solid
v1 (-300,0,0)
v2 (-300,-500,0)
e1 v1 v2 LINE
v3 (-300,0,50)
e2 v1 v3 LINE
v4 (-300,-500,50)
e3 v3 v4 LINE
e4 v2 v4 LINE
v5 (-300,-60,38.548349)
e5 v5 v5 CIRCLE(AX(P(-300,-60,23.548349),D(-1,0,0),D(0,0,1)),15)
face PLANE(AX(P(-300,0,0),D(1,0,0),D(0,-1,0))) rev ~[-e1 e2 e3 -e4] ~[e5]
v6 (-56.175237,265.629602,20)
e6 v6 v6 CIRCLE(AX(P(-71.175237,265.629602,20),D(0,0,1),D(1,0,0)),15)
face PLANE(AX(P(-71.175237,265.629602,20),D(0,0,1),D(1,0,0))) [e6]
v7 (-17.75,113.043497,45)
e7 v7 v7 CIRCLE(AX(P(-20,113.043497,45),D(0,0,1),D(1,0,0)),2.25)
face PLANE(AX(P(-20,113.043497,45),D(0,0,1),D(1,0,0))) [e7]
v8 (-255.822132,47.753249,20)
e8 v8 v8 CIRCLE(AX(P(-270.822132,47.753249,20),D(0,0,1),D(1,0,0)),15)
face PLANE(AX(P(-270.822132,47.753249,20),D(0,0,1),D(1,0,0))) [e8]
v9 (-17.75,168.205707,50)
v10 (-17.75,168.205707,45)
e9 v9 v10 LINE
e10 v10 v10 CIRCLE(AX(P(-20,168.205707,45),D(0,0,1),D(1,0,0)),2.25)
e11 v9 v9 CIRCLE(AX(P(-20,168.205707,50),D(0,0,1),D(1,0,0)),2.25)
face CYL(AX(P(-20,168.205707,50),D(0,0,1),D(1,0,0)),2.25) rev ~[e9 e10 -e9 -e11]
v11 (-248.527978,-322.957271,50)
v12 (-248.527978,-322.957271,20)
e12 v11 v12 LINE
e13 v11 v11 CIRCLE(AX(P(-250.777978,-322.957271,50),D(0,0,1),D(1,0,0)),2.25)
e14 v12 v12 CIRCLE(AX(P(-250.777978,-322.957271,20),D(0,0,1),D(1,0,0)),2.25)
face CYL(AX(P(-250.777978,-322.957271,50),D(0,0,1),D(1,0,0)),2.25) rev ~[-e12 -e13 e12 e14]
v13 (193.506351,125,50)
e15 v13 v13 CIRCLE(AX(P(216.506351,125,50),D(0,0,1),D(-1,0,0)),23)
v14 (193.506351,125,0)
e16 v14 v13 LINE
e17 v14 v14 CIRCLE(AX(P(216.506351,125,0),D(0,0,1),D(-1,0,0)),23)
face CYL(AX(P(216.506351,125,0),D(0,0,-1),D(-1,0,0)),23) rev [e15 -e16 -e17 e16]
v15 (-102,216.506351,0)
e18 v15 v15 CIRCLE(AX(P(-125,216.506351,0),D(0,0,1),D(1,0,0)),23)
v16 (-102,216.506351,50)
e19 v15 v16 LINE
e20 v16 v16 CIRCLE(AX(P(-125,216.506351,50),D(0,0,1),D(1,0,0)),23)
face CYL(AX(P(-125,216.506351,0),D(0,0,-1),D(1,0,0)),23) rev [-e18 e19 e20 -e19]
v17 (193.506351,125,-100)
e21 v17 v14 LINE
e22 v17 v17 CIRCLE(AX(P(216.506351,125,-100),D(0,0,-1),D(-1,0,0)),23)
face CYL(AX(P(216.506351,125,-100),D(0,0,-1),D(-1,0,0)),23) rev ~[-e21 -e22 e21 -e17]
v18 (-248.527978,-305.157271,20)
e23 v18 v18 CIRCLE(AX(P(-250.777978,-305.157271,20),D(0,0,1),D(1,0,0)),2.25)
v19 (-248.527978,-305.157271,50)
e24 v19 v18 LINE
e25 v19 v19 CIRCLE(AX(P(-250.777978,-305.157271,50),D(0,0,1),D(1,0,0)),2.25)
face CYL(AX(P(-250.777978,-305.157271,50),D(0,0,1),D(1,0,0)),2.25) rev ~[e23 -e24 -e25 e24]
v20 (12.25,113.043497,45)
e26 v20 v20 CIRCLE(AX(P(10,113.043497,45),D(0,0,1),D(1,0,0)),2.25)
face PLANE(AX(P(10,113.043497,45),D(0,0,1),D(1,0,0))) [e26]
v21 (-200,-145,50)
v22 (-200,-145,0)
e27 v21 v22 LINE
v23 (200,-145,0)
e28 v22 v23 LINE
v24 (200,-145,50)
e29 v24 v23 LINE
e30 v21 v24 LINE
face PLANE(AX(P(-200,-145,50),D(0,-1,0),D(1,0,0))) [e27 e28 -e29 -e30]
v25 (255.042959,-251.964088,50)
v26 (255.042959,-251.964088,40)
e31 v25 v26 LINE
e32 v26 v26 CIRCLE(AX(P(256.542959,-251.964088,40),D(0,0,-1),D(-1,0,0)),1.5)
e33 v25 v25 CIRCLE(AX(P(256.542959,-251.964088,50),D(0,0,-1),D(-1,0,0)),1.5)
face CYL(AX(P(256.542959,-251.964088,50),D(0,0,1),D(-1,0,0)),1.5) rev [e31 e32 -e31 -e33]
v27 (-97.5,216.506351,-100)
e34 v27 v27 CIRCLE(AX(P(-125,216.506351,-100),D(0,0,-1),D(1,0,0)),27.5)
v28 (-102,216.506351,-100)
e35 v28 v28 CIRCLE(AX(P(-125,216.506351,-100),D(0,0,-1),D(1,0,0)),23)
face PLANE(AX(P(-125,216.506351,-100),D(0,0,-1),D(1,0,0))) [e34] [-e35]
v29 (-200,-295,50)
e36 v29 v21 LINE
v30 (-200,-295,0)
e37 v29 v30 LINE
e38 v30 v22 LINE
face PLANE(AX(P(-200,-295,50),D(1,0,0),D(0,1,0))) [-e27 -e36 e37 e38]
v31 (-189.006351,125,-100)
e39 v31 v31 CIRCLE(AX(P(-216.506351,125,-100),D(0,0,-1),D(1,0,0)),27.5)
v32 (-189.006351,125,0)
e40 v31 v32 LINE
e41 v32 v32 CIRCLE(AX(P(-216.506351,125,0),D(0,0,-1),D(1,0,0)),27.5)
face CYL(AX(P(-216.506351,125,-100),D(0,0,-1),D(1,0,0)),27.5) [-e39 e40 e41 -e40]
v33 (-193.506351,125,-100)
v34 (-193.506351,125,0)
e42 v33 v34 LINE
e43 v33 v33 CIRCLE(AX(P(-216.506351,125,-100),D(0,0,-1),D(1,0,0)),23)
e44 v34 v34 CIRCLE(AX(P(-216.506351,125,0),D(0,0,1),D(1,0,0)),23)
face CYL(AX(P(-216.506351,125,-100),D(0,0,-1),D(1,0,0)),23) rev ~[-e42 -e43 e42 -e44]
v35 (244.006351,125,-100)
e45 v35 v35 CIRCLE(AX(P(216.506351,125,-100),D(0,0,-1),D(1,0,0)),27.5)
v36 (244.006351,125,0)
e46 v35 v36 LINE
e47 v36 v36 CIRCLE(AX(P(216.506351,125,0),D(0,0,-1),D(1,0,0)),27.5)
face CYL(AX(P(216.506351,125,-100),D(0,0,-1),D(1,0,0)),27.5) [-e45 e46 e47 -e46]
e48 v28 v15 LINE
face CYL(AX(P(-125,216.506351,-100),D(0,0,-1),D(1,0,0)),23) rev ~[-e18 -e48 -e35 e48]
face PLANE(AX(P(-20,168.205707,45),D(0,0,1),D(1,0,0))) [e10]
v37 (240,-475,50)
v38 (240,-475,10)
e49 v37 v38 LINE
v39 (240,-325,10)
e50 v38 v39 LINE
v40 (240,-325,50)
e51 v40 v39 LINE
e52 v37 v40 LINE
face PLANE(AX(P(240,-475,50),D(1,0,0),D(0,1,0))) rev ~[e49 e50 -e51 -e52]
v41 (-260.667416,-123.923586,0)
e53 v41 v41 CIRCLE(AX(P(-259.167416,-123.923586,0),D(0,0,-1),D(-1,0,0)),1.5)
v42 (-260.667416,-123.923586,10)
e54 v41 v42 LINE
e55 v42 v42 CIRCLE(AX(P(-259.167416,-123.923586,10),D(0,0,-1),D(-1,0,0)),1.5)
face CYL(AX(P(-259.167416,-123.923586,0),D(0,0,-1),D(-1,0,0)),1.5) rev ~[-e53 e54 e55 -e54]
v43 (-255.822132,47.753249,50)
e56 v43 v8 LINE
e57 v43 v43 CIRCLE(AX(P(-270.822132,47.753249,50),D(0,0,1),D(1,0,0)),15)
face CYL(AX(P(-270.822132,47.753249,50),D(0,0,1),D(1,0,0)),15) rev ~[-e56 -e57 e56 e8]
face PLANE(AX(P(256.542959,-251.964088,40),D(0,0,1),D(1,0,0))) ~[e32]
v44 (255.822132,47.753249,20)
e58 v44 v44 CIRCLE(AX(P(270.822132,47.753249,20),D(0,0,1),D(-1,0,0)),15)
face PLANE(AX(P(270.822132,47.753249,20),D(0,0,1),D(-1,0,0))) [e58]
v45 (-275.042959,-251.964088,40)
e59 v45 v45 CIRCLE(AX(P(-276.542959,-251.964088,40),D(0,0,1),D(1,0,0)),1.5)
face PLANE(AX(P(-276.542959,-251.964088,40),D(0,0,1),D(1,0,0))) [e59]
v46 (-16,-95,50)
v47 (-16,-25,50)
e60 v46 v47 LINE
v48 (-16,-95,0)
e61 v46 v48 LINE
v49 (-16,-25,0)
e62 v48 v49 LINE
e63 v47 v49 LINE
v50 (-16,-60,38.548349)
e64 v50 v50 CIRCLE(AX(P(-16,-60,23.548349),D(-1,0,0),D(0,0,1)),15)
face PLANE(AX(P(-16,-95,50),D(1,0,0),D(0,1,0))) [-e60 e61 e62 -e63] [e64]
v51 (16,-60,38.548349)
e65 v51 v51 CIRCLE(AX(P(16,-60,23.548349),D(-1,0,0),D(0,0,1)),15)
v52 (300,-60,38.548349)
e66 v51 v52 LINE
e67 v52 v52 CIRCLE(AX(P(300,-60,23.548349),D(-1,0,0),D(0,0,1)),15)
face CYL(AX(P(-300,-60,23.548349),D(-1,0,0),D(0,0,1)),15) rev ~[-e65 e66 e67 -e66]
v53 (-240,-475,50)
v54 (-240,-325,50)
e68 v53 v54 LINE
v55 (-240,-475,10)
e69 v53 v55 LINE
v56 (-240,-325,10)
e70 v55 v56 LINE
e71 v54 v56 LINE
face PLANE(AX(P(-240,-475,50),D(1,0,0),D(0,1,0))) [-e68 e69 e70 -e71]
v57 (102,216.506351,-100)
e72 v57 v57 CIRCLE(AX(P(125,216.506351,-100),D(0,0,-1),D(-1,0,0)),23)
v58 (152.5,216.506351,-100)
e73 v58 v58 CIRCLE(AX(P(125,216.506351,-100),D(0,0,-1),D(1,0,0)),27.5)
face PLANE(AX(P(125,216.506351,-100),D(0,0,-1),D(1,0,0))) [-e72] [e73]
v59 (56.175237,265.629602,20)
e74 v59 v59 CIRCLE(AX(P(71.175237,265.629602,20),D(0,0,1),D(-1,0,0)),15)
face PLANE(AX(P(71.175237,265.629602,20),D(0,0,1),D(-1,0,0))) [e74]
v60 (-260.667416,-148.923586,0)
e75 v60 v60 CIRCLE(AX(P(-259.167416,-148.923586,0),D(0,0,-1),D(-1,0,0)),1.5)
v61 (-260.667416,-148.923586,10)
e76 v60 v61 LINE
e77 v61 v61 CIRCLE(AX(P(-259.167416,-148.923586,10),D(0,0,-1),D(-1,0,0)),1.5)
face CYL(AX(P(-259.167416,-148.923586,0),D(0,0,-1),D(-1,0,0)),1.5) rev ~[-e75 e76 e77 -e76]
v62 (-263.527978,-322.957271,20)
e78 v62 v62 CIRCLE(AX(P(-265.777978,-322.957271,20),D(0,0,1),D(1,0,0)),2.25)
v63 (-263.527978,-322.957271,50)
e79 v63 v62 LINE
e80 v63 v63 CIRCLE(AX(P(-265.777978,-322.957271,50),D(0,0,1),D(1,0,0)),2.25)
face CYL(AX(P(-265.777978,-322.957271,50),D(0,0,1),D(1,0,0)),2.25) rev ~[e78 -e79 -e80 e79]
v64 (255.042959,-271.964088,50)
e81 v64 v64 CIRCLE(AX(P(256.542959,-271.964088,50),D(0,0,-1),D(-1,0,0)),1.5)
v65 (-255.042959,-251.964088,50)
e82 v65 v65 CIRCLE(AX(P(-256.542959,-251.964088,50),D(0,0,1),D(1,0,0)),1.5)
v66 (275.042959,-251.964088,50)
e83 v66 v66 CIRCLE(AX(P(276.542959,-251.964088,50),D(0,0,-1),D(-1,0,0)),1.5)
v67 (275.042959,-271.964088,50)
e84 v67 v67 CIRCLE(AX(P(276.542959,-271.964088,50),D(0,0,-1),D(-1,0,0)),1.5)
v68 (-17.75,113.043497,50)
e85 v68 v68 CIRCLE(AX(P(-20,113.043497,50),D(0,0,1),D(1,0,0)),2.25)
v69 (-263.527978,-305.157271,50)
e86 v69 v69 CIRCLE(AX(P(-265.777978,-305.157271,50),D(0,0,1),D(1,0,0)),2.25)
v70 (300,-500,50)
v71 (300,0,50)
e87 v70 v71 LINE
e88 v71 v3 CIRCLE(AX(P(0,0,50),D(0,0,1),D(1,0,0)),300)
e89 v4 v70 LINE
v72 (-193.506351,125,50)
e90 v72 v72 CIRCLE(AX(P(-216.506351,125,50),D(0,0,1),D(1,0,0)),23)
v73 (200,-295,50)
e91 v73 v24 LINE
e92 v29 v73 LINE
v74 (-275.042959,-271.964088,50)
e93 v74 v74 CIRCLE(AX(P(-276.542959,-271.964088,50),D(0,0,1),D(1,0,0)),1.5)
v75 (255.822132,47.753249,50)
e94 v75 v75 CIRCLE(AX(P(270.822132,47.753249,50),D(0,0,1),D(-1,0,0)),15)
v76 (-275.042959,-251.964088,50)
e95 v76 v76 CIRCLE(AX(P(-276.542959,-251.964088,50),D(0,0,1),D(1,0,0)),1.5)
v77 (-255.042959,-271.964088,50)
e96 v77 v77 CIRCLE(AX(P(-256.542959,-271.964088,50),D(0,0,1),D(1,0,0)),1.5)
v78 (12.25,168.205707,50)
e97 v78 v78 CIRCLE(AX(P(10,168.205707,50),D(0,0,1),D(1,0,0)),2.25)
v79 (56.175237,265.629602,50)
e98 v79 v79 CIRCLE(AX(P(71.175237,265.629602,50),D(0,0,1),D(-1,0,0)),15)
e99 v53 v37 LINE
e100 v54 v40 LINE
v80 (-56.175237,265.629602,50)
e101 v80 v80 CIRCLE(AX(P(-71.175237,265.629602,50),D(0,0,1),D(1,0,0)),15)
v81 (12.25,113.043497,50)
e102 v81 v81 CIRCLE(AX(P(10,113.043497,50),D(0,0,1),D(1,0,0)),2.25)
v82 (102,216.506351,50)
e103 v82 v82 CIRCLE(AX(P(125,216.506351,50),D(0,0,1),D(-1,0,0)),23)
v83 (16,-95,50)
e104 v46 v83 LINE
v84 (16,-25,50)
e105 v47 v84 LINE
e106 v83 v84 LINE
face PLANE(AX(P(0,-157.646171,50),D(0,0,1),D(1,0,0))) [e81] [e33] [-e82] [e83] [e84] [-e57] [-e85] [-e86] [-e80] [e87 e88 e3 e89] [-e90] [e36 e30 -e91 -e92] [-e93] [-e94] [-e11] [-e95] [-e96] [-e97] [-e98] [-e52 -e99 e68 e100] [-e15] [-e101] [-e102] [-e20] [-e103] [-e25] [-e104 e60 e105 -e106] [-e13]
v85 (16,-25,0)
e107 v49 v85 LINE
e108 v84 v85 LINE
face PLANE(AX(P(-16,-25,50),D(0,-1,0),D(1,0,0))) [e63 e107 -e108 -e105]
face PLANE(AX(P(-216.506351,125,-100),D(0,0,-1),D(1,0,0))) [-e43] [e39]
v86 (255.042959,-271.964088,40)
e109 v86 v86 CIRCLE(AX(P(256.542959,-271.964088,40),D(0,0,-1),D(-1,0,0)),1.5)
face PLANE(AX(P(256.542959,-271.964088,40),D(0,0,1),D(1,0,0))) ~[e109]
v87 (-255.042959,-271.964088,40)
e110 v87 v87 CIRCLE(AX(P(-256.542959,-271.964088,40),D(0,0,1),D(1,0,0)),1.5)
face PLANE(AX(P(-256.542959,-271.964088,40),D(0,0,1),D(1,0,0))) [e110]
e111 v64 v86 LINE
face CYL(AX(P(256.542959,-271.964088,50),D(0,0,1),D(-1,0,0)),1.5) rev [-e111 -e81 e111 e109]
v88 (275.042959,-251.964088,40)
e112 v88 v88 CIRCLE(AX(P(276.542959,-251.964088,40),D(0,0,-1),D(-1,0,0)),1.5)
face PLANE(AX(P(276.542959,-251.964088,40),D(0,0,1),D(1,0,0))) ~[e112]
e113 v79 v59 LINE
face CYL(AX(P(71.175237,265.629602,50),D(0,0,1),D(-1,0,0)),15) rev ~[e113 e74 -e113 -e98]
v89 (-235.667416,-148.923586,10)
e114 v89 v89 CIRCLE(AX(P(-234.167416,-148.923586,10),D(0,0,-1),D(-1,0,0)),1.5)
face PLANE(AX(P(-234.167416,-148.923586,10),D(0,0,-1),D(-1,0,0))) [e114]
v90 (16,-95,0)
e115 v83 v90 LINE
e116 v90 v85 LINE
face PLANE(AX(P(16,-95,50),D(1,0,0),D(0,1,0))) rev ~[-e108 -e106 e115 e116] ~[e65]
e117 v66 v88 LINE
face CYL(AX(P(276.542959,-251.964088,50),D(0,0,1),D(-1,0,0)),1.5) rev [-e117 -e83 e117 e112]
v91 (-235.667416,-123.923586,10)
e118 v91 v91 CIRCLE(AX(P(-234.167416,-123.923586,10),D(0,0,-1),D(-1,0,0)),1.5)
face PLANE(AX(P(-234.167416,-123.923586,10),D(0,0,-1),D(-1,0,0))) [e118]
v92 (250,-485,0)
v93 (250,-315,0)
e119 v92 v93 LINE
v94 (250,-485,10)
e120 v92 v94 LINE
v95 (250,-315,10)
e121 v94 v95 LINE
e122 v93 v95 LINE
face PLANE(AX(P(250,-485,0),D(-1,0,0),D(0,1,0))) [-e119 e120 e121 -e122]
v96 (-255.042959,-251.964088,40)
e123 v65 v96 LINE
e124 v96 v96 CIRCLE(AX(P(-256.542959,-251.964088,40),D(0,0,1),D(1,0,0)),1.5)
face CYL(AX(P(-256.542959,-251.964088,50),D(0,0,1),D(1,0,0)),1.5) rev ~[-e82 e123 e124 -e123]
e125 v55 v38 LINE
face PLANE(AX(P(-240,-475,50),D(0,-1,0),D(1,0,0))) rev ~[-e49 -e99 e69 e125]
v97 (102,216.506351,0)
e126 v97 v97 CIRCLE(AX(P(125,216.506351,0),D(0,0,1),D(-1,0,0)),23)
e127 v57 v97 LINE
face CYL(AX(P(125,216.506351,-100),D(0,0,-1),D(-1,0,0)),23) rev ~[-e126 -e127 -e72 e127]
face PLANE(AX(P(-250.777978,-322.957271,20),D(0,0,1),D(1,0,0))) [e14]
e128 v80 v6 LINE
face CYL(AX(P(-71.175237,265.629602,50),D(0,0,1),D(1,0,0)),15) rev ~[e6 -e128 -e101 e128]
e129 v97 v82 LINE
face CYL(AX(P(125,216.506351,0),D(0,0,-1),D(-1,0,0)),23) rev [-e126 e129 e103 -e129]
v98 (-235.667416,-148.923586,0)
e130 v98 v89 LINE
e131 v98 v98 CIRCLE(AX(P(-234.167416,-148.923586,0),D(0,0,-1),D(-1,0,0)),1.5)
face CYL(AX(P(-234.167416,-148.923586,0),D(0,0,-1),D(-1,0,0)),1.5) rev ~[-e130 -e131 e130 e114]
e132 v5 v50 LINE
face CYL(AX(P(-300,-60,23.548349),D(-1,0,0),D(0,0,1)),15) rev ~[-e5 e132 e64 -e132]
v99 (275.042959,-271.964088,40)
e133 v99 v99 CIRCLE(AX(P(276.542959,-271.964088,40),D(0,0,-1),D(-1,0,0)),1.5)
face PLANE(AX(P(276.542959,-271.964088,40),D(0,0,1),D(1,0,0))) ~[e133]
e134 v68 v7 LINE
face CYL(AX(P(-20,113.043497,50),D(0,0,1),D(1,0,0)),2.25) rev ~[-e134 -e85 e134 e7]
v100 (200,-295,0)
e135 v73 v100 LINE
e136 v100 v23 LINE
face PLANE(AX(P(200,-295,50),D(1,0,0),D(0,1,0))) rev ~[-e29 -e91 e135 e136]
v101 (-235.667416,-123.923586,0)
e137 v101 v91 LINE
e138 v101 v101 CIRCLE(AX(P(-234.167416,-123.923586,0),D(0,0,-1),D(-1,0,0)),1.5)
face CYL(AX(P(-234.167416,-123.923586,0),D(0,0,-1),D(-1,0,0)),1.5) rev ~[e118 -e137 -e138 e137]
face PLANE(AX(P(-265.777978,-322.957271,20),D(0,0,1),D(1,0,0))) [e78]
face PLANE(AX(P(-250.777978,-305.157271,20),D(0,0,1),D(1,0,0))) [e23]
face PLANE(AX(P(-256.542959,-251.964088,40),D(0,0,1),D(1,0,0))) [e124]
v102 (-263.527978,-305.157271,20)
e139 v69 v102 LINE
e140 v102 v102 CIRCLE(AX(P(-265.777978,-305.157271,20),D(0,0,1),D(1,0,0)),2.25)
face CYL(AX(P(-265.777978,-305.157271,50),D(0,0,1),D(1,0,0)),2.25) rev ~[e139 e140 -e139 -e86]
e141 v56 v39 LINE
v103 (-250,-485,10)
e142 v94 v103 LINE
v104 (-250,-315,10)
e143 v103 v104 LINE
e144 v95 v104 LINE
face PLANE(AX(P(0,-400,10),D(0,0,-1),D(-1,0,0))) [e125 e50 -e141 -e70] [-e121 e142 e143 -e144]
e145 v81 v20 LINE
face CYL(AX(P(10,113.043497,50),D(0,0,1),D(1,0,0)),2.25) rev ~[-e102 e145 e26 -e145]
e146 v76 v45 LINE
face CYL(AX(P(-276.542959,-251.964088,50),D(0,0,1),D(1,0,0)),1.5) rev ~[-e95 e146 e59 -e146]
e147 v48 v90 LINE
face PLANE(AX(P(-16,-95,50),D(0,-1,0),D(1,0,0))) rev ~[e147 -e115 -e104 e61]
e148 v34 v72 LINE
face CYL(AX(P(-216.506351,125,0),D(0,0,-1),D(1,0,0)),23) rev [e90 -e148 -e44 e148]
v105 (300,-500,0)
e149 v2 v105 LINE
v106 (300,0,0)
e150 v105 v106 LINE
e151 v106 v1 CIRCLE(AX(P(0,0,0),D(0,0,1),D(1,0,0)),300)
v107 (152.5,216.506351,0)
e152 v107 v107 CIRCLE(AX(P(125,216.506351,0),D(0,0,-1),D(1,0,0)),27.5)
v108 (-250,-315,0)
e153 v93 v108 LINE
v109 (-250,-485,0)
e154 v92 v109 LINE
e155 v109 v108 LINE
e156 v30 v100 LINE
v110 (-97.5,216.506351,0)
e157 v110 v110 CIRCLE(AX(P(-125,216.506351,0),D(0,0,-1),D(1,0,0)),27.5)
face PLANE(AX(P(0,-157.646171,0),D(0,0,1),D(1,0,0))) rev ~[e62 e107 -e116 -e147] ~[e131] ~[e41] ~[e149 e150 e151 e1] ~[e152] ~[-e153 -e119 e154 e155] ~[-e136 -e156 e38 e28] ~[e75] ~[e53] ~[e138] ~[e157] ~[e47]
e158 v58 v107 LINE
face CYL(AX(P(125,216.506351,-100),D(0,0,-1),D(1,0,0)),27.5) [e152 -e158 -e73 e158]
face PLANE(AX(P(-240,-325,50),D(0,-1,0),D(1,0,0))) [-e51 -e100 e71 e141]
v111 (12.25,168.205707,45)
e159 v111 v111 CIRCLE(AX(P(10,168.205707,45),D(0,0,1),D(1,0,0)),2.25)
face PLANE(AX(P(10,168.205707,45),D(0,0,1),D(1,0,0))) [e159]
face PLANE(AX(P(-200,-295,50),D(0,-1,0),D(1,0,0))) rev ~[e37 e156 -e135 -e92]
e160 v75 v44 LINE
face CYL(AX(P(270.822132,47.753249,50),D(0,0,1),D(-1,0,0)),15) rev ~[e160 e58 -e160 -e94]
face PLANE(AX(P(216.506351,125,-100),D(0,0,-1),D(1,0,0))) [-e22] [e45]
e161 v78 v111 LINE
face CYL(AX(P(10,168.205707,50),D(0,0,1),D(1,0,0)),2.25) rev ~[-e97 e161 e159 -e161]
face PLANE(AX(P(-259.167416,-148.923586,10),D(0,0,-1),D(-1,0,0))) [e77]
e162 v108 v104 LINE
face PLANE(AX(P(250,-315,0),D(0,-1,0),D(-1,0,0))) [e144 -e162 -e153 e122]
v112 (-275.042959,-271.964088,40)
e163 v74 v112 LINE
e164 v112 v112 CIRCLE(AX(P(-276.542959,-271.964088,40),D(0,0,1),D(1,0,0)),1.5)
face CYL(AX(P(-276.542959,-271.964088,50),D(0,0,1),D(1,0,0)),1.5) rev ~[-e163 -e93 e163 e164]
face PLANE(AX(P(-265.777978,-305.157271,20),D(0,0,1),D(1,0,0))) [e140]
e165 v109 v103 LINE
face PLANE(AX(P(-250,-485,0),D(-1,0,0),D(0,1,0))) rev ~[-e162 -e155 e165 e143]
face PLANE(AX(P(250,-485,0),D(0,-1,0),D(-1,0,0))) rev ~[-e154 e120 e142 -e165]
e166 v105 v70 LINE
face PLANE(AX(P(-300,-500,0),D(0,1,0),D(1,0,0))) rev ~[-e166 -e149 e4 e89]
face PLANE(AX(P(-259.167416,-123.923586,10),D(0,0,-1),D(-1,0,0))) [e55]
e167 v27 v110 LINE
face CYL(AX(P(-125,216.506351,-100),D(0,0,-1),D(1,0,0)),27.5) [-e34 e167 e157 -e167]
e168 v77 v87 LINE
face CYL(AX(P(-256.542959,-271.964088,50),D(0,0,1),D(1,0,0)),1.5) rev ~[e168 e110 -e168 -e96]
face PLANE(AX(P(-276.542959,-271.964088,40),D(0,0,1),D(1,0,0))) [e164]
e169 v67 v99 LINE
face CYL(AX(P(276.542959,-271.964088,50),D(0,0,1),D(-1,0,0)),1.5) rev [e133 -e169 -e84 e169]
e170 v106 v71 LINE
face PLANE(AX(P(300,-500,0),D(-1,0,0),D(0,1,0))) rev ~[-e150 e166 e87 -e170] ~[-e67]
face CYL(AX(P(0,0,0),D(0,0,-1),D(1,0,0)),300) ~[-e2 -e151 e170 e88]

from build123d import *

# Parameters (mm, degrees)
SKETCH_1_R           = 23
EXTRUDE_1_DEPTH      = 50
EXTRUDE_START        = 100
SKETCH_2_R           = 27.5
SKETCH_2_R_2         = 23
EXTRUDE_2_DEPTH      = 100
SKETCH_3_R           = 15
CUT_EXTRUDE_1_DEPTH  = 788.400787401
SKETCH_4_W           = 32
SKETCH_4_H           = 70
CUT_EXTRUDE_2_DEPTH  = 100
SKETCH_5_W           = 400
SKETCH_5_H           = 150
CUT_EXTRUDE_3_DEPTH  = 603.07972894
SKETCH_6_W           = 480
SKETCH_6_H           = 150
CUT_EXTRUDE_4_DEPTH  = 100
SKETCH_7_W           = 500
SKETCH_7_H           = 170
CUT_EXTRUDE_5_DEPTH  = 10
SKETCH_9_R           = 2.25
CUT_EXTRUDE_6_DEPTH  = 5
SKETCH_10_R          = 15
CUT_EXTRUDE_7_DEPTH  = 30
SKETCH_11_R          = 2.25
CUT_EXTRUDE_8_DEPTH  = 30
SKETCH_12_R          = 1.5
CUT_EXTRUDE_9_DEPTH  = 10
SKETCH_13_R          = 1.5
CUT_EXTRUDE_10_DEPTH = 10


with BuildPart() as part:
    # 草图1 → 凸台-拉伸1 (new body)
    with BuildSketch(Plane.XY):
        with BuildLine():
            Line((-300, 0), (-300, -500))
            Line((-300, -500), (300, -500))
            Line((300, -500), (300, 0))
            ThreePointArc((300, 0), (0, 300), (-300, 0))
        make_face()
        with Locations((-216.506350946, 125)):
            Circle(SKETCH_1_R, mode=Mode.SUBTRACT)
        with Locations((-125, 216.506350946)):
            Circle(SKETCH_1_R, mode=Mode.SUBTRACT)
        with Locations(Location((125, 216.506350946, 0), (0, 0, 180))):
            Circle(SKETCH_1_R, mode=Mode.SUBTRACT)
        with Locations(Location((216.506350946, 125, 0), (0, 0, 180))):
            Circle(SKETCH_1_R, mode=Mode.SUBTRACT)
    extrude(amount=EXTRUDE_1_DEPTH)

    # 草图2 → 凸台-拉伸2 (add)
    # profile 1 of 4: a face of its own
    with BuildSketch(Plane(origin=(0, 0, 0), x_dir=(-1, 0, 0), z_dir=(0, 0, -1)).offset(EXTRUDE_START)):
        with Locations(Location((-216.506350946, 125, 0), (0, 0, 180))):
            Circle(SKETCH_2_R)
        with Locations((-216.506350946, 125)):
            Circle(SKETCH_2_R_2, mode=Mode.SUBTRACT)
    # profile 2 of 4: a face of its own
    with BuildSketch(Plane(origin=(0, 0, 0), x_dir=(-1, 0, 0), z_dir=(0, 0, -1)).offset(EXTRUDE_START)):
        with Locations(Location((-125, 216.506350946, 0), (0, 0, 180))):
            Circle(SKETCH_2_R)
        with Locations((-125, 216.506350946)):
            Circle(SKETCH_2_R_2, mode=Mode.SUBTRACT)
    # profile 3 of 4: a face of its own
    with BuildSketch(Plane(origin=(0, 0, 0), x_dir=(-1, 0, 0), z_dir=(0, 0, -1)).offset(EXTRUDE_START)):
        with Locations(Location((216.506350946, 125, 0), (0, 0, 180))):
            Circle(SKETCH_2_R)
        with Locations(Location((216.506350946, 125, 0), (0, 0, 180))):
            Circle(SKETCH_2_R_2, mode=Mode.SUBTRACT)
    # profile 4 of 4: a face of its own
    with BuildSketch(Plane(origin=(0, 0, 0), x_dir=(-1, 0, 0), z_dir=(0, 0, -1)).offset(EXTRUDE_START)):
        with Locations(Location((125, 216.506350946, 0), (0, 0, 180))):
            Circle(SKETCH_2_R)
        with Locations(Location((125, 216.506350946, 0), (0, 0, 180))):
            Circle(SKETCH_2_R_2, mode=Mode.SUBTRACT)
    extrude(amount=-EXTRUDE_2_DEPTH)

    # 草图3 → 切除-拉伸1 (cut, through all)
    with BuildSketch(Plane.ZY.offset(300)):
        with Locations((23.548349361, -60)):
            Circle(SKETCH_3_R)
    extrude(amount=-CUT_EXTRUDE_1_DEPTH, mode=Mode.SUBTRACT)

    # 草图4 → 切除-拉伸2 (cut)
    with BuildSketch(Plane.XY.offset(50)):
        with Locations((0, -60)):
            Rectangle(SKETCH_4_W, SKETCH_4_H)
    extrude(amount=-CUT_EXTRUDE_2_DEPTH, mode=Mode.SUBTRACT)

    # 草图5 → 切除-拉伸3 (cut, through all)
    with BuildSketch(Plane.XY.offset(50)):
        with Locations((0, -220)):
            Rectangle(SKETCH_5_W, SKETCH_5_H)
    extrude(amount=-CUT_EXTRUDE_3_DEPTH, mode=Mode.SUBTRACT)

    # 草图6 → 切除-拉伸4 (cut)
    with BuildSketch(Plane.XY.offset(50)):
        with Locations((0, -400)):
            Rectangle(SKETCH_6_W, SKETCH_6_H)
    extrude(amount=-CUT_EXTRUDE_4_DEPTH, mode=Mode.SUBTRACT)

    # 草图7 → 切除-拉伸5 (cut)
    with BuildSketch(Plane(origin=(0, 0, 0), x_dir=(-1, 0, 0), z_dir=(0, 0, -1))):
        with Locations((0, -400)):
            Rectangle(SKETCH_7_W, SKETCH_7_H)
    extrude(amount=-CUT_EXTRUDE_5_DEPTH, mode=Mode.SUBTRACT)

    # 草图9 → 切除-拉伸6 (cut)
    with BuildSketch(Plane.XY.offset(50)):
        with Locations((10, 113.043497002)):
            Circle(SKETCH_9_R)
        with Locations((-20, 113.043497002)):
            Circle(SKETCH_9_R)
        with Locations((-20, 168.205707409)):
            Circle(SKETCH_9_R)
        with Locations((10, 168.205707409)):
            Circle(SKETCH_9_R)
    extrude(amount=-CUT_EXTRUDE_6_DEPTH, mode=Mode.SUBTRACT)

    # 草图10 → 切除-拉伸7 (cut)
    with BuildSketch(Plane.XY.offset(50)):
        with Locations((-270.822132078, 47.753248858)):
            Circle(SKETCH_10_R)
        with Locations((-71.175237403, 265.629602229)):
            Circle(SKETCH_10_R)
        with Locations(Location((270.822132078, 47.753248858, 0), (0, 0, 180))):
            Circle(SKETCH_10_R)
        with Locations(Location((71.175237403, 265.629602229, 0), (0, 0, 180))):
            Circle(SKETCH_10_R)
    extrude(amount=-CUT_EXTRUDE_7_DEPTH, mode=Mode.SUBTRACT)

    # 草图11 → 切除-拉伸8 (cut)
    with BuildSketch(Plane.XY.offset(50)):
        with Locations((-265.77797753, -305.157271427)):
            Circle(SKETCH_11_R)
        with Locations((-250.77797753, -305.157271427)):
            Circle(SKETCH_11_R)
        with Locations((-265.77797753, -322.957271427)):
            Circle(SKETCH_11_R)
        with Locations((-250.77797753, -322.957271427)):
            Circle(SKETCH_11_R)
    extrude(amount=-CUT_EXTRUDE_8_DEPTH, mode=Mode.SUBTRACT)

    # 草图12 → 切除-拉伸9 (cut)
    with BuildSketch(Plane.XY.offset(50)):
        with Locations((-276.542958653, -251.964088139)):
            Circle(SKETCH_12_R)
        with Locations((-256.542958653, -251.964088139)):
            Circle(SKETCH_12_R)
        with Locations((-276.542958653, -271.964088139)):
            Circle(SKETCH_12_R)
        with Locations((-256.542958653, -271.964088139)):
            Circle(SKETCH_12_R)
    cut_extrude_9 = extrude(amount=-CUT_EXTRUDE_9_DEPTH, mode=Mode.SUBTRACT)

    # 镜向1: 切除-拉伸9 across plane
    add(cut_extrude_9.mirror(Plane(origin=(0, 0, 0), x_dir=(0, 0, 1), z_dir=(1, 0, 0))), mode=Mode.SUBTRACT)

    # 草图13 → 切除-拉伸10 (cut)
    with BuildSketch(Plane(origin=(0, 0, 0), x_dir=(-1, 0, 0), z_dir=(0, 0, -1))):
        with Locations((259.167415515, -123.923585862)):
            Circle(SKETCH_13_R)
        with Locations((234.167415515, -123.923585862)):
            Circle(SKETCH_13_R)
        with Locations((234.167415515, -148.923585862)):
            Circle(SKETCH_13_R)
        with Locations((259.167415515, -148.923585862)):
            Circle(SKETCH_13_R)
    extrude(amount=-CUT_EXTRUDE_10_DEPTH, mode=Mode.SUBTRACT)


solid = part.part
